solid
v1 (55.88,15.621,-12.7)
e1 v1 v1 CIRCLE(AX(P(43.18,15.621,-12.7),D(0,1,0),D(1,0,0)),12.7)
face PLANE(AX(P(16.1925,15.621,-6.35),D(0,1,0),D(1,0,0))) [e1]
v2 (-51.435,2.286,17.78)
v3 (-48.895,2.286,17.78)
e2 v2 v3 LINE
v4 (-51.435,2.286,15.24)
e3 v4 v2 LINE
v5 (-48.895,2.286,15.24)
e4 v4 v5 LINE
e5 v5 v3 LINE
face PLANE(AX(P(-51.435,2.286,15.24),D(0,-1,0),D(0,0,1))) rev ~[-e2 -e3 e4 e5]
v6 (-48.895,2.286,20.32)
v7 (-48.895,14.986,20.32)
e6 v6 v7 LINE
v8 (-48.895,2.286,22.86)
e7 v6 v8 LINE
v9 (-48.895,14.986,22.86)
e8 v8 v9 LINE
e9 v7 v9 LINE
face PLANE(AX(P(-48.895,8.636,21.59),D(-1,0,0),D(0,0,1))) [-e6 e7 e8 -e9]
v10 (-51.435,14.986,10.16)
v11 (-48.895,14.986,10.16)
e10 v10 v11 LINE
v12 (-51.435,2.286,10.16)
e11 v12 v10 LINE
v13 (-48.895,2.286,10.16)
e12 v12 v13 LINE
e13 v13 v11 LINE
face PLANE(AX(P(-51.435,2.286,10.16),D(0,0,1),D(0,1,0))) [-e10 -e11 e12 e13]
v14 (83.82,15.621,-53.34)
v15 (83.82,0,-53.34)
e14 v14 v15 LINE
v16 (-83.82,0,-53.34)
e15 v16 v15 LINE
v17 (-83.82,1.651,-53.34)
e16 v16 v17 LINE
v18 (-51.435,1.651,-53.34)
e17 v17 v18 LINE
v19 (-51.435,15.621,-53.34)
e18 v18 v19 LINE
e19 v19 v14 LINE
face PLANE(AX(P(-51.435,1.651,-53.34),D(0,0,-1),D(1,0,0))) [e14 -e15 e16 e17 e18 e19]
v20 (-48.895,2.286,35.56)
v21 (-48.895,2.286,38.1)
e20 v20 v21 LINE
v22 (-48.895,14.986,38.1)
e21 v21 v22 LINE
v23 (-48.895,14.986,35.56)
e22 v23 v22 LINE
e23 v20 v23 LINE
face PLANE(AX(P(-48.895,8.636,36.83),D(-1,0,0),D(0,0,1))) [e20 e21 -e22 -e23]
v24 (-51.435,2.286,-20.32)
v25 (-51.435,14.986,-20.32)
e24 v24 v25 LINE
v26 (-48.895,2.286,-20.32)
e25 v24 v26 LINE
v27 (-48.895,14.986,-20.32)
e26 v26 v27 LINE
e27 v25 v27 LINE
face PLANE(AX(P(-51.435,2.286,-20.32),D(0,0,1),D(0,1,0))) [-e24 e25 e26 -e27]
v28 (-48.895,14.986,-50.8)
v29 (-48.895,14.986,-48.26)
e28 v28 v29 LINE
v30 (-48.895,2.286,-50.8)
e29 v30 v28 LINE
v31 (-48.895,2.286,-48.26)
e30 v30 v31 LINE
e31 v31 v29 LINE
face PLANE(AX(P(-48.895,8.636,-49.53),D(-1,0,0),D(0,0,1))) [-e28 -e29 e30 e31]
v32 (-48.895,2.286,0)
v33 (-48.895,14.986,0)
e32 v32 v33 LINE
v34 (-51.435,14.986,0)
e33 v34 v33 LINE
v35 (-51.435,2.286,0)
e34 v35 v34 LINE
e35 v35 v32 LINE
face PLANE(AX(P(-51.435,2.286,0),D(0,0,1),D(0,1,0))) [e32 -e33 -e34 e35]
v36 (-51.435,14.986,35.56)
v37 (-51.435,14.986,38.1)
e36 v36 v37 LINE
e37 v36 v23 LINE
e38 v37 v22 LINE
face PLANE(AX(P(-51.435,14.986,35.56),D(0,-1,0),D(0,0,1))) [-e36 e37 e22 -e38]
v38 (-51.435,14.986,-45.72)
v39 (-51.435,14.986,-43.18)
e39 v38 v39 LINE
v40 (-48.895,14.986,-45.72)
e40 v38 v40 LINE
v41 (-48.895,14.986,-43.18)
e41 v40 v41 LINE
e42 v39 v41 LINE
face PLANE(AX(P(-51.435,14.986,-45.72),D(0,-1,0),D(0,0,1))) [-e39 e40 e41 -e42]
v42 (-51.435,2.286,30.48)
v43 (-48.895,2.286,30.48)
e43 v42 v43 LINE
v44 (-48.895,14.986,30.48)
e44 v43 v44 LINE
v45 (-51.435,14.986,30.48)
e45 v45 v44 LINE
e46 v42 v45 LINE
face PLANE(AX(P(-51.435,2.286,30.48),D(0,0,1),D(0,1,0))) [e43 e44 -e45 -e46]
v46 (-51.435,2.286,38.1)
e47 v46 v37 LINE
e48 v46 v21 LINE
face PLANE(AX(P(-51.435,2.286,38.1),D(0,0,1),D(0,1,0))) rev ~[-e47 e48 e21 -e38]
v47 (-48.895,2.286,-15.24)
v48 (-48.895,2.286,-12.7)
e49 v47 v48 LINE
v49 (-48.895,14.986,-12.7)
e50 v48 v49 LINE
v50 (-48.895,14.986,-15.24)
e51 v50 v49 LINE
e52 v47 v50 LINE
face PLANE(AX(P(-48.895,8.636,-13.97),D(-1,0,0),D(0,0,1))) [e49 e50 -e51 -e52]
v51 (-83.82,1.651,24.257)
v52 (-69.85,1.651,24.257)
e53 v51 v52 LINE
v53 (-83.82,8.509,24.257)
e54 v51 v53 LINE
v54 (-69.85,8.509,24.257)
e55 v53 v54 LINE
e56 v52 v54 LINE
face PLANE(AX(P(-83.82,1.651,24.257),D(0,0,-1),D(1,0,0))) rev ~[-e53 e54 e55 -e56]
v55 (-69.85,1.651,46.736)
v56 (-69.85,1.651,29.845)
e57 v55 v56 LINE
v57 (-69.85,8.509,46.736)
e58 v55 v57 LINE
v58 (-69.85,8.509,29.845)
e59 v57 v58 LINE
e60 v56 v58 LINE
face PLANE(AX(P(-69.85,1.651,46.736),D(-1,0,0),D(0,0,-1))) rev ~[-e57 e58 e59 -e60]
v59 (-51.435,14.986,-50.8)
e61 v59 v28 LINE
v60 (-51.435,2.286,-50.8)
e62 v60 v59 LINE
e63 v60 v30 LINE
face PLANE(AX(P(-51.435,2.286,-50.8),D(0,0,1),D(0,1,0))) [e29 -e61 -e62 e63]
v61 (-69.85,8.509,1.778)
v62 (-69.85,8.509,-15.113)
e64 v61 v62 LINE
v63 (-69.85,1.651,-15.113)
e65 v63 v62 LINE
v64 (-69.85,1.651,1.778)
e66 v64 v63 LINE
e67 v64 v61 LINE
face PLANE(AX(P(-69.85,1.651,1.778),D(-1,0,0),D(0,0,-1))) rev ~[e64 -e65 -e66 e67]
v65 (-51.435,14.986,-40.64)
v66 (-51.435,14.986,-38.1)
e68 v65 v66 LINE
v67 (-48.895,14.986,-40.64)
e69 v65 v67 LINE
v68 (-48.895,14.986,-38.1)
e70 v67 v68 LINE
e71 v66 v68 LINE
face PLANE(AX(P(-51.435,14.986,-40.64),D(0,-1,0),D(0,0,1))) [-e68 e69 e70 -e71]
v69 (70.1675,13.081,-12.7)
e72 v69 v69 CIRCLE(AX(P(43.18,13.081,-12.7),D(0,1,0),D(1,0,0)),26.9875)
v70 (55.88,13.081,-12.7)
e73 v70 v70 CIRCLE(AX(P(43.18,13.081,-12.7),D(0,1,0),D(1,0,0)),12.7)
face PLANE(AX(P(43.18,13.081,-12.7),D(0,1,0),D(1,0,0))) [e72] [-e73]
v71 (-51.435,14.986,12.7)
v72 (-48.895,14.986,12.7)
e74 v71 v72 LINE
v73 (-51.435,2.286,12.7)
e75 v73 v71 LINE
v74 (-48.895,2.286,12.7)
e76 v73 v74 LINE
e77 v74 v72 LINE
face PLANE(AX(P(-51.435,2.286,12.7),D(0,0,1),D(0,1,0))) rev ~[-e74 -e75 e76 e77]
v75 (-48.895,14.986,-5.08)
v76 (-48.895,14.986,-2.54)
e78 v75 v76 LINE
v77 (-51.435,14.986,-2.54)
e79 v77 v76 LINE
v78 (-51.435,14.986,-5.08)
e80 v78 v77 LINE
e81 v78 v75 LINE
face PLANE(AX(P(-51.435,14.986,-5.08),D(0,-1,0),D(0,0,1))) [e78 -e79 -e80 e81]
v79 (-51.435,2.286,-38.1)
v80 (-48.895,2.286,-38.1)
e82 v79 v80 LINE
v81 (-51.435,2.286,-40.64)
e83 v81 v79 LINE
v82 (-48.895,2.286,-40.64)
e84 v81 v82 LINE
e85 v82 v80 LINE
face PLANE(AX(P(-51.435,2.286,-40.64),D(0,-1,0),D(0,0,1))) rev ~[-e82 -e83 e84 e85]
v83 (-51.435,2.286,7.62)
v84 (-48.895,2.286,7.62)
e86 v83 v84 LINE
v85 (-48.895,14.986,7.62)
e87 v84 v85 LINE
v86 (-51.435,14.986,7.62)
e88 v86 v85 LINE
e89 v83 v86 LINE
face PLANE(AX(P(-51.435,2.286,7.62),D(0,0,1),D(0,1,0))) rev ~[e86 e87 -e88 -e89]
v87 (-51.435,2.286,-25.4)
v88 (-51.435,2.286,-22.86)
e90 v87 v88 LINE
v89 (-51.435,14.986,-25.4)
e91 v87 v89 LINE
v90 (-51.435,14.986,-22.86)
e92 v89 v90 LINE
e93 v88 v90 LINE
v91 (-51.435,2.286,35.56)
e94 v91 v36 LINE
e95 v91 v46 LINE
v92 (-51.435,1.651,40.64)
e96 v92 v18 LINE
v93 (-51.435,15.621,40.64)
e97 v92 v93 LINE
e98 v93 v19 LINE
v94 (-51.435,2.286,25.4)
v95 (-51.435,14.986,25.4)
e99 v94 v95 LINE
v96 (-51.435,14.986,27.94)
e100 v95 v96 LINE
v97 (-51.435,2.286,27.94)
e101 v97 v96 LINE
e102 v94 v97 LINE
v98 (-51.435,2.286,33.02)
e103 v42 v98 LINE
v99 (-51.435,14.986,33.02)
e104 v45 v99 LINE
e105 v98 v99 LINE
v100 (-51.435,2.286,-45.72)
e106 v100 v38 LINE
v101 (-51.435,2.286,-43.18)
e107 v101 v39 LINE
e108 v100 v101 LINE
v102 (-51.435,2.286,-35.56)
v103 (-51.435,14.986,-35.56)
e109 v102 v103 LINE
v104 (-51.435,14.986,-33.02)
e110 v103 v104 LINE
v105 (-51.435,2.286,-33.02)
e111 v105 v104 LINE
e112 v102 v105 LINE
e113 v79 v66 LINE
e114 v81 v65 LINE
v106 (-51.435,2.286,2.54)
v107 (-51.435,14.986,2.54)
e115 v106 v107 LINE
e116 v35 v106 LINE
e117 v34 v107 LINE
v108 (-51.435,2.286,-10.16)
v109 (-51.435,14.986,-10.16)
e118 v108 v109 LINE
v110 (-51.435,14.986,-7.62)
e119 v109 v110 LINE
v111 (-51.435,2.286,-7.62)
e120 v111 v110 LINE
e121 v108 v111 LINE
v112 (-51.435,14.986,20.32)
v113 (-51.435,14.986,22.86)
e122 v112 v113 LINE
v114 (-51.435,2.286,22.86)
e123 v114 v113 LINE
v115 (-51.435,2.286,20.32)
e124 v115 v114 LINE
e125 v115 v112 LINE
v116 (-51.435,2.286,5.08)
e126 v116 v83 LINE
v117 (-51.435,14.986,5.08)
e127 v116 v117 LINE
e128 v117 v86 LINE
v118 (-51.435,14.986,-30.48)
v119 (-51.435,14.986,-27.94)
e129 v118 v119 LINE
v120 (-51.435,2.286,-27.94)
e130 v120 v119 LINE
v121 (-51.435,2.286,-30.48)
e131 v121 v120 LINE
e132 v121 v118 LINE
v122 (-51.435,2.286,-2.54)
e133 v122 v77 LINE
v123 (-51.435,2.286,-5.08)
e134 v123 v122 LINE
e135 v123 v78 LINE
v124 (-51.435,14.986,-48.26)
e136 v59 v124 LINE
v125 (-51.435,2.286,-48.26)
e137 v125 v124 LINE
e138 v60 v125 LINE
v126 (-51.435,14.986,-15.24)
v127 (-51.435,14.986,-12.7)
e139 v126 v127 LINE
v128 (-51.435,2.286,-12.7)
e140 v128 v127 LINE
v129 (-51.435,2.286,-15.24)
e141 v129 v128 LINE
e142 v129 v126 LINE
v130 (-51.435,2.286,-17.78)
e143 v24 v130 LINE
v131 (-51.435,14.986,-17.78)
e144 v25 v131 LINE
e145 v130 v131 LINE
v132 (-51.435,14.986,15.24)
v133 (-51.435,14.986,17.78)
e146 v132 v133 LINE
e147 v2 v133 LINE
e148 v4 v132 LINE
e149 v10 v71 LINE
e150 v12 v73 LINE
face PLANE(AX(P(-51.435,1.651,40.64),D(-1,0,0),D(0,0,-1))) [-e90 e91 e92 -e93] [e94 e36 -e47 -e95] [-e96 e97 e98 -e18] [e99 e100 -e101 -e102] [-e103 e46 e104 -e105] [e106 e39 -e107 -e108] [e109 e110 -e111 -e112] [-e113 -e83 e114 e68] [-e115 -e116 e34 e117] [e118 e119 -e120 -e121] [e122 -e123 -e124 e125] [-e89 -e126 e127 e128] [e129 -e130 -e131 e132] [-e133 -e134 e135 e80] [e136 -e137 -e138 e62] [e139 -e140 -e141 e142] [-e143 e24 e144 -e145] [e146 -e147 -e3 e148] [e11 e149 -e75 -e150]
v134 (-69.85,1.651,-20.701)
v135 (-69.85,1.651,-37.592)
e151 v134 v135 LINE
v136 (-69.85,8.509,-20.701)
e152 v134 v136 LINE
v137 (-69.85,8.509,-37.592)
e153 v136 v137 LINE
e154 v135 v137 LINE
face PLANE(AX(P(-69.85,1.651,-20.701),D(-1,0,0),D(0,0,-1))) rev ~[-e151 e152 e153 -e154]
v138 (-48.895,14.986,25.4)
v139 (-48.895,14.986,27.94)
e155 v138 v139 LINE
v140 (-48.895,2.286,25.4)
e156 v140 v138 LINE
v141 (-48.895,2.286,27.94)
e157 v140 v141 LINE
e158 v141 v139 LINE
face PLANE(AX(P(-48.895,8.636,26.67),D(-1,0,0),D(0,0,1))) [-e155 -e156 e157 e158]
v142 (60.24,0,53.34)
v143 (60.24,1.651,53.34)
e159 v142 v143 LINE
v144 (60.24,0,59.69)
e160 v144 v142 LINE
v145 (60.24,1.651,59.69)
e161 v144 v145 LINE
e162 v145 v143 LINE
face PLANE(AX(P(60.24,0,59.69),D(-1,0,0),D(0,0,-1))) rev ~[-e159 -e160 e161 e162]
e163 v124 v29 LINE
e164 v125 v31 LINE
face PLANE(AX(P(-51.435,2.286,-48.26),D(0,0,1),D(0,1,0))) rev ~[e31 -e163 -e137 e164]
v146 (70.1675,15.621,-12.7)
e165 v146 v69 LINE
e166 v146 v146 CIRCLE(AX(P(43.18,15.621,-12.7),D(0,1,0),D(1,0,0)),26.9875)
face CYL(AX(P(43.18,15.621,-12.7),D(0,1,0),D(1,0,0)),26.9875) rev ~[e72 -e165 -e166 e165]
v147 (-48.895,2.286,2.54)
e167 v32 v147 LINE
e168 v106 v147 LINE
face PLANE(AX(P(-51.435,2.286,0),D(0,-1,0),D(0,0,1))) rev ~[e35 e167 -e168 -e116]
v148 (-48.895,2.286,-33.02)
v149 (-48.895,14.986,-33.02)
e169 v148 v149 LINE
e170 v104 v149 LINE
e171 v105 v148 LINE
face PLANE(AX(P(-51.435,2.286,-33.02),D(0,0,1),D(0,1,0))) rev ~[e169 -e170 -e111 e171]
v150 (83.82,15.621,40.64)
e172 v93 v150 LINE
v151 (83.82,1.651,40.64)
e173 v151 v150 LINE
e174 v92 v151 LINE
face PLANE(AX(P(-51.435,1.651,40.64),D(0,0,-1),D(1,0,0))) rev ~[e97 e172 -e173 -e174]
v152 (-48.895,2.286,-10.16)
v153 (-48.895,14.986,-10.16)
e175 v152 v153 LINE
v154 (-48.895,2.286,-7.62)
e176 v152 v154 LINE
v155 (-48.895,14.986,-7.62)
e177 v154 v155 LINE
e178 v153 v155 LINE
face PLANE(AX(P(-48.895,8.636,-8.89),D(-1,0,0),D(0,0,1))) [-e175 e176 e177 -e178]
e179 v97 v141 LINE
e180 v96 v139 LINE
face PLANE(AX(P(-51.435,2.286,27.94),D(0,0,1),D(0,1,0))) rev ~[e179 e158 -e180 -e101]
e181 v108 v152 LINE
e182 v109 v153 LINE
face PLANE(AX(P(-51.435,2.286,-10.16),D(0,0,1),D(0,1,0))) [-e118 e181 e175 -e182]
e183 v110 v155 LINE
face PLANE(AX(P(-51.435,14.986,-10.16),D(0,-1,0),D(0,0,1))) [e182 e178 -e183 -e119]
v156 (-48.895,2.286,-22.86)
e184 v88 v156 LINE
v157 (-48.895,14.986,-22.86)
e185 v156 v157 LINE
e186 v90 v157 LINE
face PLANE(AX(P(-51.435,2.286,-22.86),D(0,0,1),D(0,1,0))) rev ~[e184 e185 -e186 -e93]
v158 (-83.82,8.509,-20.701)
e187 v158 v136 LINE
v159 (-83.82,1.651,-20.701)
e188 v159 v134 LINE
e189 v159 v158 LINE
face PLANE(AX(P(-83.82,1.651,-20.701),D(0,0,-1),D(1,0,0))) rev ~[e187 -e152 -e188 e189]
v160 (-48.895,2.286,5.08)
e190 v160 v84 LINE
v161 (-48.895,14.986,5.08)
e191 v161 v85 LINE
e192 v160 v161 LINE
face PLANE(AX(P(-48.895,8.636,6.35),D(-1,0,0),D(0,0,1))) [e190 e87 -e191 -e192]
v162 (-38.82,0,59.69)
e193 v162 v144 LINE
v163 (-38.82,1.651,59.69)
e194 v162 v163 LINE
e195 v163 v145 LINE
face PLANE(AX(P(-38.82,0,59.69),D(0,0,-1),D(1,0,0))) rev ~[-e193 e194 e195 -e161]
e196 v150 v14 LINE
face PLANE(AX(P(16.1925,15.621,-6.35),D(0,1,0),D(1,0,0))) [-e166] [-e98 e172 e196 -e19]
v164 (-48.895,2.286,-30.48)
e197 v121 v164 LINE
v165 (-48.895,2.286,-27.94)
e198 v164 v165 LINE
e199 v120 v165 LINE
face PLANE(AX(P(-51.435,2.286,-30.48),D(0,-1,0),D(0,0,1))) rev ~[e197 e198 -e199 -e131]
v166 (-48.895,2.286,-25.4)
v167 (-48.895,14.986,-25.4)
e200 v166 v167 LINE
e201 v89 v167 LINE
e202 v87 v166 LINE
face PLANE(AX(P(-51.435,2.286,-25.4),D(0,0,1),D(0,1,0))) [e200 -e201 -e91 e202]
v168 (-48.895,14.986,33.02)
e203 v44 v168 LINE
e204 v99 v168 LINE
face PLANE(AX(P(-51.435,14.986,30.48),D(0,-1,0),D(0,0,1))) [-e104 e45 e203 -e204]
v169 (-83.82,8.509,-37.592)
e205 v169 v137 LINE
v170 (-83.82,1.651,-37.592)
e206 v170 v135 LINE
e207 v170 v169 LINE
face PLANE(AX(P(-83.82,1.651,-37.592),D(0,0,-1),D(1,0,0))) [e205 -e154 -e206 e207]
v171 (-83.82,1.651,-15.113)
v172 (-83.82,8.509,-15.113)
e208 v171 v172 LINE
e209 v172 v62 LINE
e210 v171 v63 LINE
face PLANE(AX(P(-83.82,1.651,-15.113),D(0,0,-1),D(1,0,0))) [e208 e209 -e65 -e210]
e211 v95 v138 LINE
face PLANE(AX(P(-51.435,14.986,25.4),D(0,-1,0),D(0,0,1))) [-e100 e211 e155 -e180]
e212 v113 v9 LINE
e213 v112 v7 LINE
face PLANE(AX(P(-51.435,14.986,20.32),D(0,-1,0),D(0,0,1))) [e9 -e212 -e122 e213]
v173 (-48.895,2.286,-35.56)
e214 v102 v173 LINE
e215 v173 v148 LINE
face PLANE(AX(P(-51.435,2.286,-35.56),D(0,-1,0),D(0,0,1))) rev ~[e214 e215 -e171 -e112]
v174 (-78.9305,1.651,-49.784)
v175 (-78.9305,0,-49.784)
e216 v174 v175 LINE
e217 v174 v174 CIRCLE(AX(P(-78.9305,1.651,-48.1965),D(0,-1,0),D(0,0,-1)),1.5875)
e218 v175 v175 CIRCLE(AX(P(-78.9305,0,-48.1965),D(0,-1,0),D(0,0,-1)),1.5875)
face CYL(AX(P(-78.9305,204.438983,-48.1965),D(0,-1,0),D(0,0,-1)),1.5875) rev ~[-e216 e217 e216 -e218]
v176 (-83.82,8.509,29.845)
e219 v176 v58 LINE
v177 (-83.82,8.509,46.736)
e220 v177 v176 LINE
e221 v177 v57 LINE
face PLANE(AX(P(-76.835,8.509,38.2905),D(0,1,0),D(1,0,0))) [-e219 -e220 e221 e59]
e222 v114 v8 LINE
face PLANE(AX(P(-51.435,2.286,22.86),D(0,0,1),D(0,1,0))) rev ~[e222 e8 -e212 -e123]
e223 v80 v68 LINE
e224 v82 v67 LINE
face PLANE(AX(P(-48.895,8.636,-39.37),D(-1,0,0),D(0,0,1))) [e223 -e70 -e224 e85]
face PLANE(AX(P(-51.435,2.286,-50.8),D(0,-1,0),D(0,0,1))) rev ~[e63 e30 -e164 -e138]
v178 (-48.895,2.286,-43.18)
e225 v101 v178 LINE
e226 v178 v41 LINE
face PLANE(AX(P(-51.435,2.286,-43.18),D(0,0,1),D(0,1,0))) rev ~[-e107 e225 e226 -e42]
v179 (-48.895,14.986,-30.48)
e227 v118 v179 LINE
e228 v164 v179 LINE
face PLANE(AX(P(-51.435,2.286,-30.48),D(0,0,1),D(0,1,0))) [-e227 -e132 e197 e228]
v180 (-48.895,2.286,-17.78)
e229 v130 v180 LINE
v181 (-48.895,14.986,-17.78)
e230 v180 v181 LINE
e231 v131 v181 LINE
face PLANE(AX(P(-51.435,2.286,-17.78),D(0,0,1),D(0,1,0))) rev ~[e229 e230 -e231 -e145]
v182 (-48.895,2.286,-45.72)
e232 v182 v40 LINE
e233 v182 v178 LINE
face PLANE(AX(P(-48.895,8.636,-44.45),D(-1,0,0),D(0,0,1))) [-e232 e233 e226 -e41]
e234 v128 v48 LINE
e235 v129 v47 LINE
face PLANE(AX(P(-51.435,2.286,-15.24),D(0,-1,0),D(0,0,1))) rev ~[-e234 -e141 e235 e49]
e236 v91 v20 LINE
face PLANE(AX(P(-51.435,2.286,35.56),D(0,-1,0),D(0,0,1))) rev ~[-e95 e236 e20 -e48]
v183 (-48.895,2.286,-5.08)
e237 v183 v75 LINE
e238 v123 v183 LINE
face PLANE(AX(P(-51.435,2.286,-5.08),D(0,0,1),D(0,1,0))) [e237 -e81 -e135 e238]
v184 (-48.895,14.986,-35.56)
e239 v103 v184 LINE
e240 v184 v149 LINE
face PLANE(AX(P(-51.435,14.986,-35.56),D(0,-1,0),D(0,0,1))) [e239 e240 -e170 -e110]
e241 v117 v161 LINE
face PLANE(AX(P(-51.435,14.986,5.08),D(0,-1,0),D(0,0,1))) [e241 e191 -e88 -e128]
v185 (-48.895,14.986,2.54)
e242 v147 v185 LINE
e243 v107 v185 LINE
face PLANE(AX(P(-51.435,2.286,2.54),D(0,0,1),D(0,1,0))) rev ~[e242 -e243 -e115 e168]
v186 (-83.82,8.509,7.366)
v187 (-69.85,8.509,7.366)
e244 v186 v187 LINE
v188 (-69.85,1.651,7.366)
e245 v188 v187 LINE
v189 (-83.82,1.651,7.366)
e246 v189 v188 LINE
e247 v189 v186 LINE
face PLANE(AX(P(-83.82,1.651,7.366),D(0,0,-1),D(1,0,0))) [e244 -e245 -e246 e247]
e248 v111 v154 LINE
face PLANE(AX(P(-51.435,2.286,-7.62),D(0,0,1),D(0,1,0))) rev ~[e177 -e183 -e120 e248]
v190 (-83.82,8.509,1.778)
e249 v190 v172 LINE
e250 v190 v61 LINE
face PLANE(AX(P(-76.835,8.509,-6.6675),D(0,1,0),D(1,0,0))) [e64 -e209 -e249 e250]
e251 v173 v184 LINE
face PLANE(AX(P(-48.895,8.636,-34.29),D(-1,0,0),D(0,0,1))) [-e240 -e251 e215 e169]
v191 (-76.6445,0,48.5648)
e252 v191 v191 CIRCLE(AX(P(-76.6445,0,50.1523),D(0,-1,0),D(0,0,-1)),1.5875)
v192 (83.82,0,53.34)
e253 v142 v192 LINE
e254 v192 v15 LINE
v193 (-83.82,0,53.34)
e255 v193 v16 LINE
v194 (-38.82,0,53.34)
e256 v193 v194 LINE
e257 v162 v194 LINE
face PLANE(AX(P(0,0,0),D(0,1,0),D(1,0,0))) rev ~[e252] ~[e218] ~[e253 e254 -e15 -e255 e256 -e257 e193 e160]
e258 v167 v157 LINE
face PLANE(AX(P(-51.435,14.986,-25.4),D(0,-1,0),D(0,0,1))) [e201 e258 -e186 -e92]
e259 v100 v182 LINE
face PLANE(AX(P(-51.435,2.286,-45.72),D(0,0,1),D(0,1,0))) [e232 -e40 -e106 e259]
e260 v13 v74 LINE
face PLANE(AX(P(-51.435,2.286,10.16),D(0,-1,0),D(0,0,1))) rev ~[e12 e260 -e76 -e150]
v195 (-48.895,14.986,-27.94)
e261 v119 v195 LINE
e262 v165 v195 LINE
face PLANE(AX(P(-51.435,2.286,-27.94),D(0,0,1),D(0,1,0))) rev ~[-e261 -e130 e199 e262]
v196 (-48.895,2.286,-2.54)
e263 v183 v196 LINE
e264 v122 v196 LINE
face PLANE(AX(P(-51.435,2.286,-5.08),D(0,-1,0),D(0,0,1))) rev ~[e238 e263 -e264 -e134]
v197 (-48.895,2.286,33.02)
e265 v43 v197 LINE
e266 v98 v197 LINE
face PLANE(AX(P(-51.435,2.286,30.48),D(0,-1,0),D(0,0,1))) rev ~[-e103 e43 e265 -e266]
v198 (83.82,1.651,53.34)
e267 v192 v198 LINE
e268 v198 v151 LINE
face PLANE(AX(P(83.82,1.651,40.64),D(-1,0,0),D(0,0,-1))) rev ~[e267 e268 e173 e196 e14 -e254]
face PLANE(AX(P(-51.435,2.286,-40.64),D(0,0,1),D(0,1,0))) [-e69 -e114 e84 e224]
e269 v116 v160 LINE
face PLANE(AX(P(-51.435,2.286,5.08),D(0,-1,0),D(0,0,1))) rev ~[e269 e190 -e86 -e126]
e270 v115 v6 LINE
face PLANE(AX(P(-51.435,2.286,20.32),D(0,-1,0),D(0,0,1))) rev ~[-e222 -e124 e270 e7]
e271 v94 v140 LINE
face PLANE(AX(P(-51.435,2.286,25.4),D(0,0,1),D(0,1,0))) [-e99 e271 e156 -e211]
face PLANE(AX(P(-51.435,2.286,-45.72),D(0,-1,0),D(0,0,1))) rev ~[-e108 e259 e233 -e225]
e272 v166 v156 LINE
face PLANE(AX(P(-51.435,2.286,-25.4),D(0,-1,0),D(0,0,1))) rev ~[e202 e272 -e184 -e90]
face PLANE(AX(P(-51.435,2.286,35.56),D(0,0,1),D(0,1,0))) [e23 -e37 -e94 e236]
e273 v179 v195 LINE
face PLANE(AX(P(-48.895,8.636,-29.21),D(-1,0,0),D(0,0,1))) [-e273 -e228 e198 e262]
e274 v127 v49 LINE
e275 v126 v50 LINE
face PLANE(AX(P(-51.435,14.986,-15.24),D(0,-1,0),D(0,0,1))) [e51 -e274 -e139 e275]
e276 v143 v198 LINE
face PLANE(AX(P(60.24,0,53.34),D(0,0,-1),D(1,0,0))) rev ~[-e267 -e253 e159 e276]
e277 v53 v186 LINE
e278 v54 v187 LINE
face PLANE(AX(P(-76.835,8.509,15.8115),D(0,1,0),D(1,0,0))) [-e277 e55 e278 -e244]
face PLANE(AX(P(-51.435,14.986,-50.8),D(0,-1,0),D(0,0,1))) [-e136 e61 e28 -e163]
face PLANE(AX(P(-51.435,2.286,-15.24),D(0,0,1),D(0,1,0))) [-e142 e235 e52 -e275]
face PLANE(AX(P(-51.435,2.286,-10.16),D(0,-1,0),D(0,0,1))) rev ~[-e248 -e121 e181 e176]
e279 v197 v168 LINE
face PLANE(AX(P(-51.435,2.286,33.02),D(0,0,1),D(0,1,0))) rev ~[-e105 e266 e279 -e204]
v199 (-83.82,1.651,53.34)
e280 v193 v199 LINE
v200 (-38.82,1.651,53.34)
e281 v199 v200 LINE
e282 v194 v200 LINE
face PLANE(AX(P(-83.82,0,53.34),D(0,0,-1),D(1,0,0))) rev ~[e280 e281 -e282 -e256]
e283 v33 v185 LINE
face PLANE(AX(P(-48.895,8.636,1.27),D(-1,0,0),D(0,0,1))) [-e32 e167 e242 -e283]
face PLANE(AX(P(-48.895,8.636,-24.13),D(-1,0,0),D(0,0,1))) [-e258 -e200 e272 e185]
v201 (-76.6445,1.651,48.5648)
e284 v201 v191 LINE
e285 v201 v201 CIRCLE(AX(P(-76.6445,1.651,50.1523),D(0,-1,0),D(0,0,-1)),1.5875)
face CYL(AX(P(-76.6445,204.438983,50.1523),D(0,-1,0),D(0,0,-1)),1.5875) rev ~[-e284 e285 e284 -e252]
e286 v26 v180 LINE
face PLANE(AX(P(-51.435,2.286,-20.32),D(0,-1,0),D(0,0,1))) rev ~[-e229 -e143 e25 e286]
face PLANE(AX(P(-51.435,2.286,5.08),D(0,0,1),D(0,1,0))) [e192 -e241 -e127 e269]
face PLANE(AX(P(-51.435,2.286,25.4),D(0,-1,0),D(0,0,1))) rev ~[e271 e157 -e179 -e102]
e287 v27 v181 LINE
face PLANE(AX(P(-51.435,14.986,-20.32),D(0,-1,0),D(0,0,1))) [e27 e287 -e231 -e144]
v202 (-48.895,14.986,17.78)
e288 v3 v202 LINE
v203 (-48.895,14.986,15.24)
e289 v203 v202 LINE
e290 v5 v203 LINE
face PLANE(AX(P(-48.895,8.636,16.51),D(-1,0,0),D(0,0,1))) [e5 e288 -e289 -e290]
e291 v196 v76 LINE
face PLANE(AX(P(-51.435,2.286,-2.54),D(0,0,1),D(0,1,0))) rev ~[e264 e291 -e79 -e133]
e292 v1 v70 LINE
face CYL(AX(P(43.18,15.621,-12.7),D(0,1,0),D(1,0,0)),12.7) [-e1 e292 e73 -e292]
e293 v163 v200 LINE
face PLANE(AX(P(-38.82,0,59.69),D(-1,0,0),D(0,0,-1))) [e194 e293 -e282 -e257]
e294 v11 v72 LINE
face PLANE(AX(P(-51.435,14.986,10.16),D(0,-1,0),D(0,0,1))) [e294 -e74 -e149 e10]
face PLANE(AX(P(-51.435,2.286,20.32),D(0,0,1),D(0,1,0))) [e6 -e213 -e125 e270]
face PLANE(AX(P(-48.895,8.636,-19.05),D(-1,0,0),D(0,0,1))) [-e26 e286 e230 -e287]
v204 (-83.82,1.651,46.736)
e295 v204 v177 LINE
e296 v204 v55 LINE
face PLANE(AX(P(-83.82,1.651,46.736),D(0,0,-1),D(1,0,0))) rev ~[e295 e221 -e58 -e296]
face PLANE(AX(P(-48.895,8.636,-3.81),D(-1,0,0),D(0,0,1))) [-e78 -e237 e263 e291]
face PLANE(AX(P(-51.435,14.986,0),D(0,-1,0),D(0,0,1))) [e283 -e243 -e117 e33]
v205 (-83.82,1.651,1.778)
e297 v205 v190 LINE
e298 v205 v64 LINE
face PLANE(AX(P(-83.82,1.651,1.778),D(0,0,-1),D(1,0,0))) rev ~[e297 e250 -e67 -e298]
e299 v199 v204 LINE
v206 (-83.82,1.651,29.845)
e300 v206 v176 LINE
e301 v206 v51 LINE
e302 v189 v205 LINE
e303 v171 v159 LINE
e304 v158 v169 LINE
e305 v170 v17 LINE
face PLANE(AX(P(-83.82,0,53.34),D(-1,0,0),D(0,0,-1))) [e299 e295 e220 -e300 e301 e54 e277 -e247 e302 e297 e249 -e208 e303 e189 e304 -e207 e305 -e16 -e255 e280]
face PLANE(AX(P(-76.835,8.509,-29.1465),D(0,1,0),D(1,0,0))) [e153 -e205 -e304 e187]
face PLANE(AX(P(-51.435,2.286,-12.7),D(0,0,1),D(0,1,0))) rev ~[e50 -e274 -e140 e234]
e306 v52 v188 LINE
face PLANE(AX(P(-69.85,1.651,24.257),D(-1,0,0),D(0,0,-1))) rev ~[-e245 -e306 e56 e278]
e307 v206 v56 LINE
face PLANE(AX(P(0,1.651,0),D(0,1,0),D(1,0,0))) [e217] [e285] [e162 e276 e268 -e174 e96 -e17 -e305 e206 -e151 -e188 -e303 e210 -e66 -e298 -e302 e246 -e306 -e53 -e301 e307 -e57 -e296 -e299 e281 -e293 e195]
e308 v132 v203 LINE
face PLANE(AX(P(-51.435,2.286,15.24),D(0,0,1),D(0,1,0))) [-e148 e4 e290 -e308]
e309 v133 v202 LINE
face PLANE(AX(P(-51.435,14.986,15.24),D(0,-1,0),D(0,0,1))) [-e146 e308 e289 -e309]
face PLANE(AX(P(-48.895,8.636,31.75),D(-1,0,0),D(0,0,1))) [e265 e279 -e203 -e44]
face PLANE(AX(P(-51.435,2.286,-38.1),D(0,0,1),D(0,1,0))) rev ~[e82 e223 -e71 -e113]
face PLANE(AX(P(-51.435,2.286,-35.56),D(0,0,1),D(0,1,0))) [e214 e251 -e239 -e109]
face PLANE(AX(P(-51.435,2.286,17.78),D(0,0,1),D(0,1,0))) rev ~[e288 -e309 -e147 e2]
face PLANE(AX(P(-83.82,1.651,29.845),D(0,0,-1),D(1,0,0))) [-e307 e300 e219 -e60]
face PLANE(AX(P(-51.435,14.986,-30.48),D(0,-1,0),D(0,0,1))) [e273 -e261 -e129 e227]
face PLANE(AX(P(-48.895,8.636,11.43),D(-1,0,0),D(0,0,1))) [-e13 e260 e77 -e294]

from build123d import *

# Parameters (mm, degrees)
SKETCH1_W             = 167.64
SKETCH1_H             = 106.68
SKETCH1_W_2           = 99.06
SKETCH1_H_2           = 6.35
BOSS_EXTRUDE1_DEPTH   = 1.651
SKETCH2_W             = 135.255
SKETCH2_H             = 93.98
BOSS_EXTRUDE2_DEPTH   = 13.97
F_4_CLEARANCE_HOLE1_D = 3.175
SKETCH6_W             = 13.97
SKETCH6_H             = 16.891
BOSS_EXTRUDE3_DEPTH   = 6.858
SKETCH7_W             = 2.54
SKETCH7_H             = 12.7
CUT_EXTRUDE5_DEPTH    = 2.54
LPATTERN1_COUNT       = 18
LPATTERN1_PITCH       = 5.08
SKETCH8_R             = 26.9875
SKETCH8_R_2           = 12.7
CUT_EXTRUDE6_DEPTH    = 2.54


with BuildPart() as part:
    # Sketch1 → Boss-Extrude1 (new body)
    with BuildSketch(Plane(origin=(0, 0, 0), x_dir=(1, 0, 0), z_dir=(0, 1, 0))):
        Rectangle(SKETCH1_W, SKETCH1_H)
        with Locations((10.71, -56.515)):
            Rectangle(SKETCH1_W_2, SKETCH1_H_2)
    extrude(amount=BOSS_EXTRUDE1_DEPTH)

    # Sketch2 → Boss-Extrude2 (add)
    with BuildSketch(Plane(origin=(0, 1.651, 0), x_dir=(1, 0, 0), z_dir=(0, 1, 0))):
        with Locations((16.1925, 6.35)):
            Rectangle(SKETCH2_W, SKETCH2_H)
    extrude(amount=BOSS_EXTRUDE2_DEPTH)

    # #4 Clearance Hole1 (through all)
    with Locations(Plane(origin=(-78.9305, 1.651, -48.1965), x_dir=(0, 0, 1), z_dir=(0, 1, 0))):
        with Locations((0, 0), (98.3488, 2.286)):
            Hole(F_4_CLEARANCE_HOLE1_D / 2)

    # Sketch6 → Boss-Extrude3 (add)
    with BuildSketch(Plane(origin=(0, 1.651, 0), x_dir=(1, 0, 0), z_dir=(0, 1, 0))):
        with Locations((-76.835, 29.1465)):
            Rectangle(SKETCH6_W, SKETCH6_H)
        with Locations((-76.835, 6.6675)):
            Rectangle(SKETCH6_W, SKETCH6_H)
        with Locations((-76.835, -15.8115)):
            Rectangle(SKETCH6_W, SKETCH6_H)
        with Locations((-76.835, -38.2905)):
            Rectangle(SKETCH6_W, SKETCH6_H)
    extrude(amount=BOSS_EXTRUDE3_DEPTH)

    # Sketch7 → Cut-Extrude5 (cut)
    with BuildSketch(Plane.ZY.offset(51.435)):
        with Locations((36.83, 8.636)):
            Rectangle(SKETCH7_W, SKETCH7_H)
    cut_extrude5 = extrude(amount=-CUT_EXTRUDE5_DEPTH, mode=Mode.SUBTRACT)

    # LPattern1: Cut-Extrude5 ×18
    with Locations(*[(0, 0, -i * LPATTERN1_PITCH) for i in range(1, LPATTERN1_COUNT)]):
        add(cut_extrude5, mode=Mode.SUBTRACT)

    # Sketch8 → Cut-Extrude6 (cut)
    with BuildSketch(Plane(origin=(0, 15.621, 0), x_dir=(1, 0, 0), z_dir=(0, 1, 0))):
        with Locations((43.18, 12.7)):
            Circle(SKETCH8_R)
        with Locations((43.18, 12.7)):
            Circle(SKETCH8_R_2, mode=Mode.SUBTRACT)
    extrude(amount=-CUT_EXTRUDE6_DEPTH, mode=Mode.SUBTRACT)


solid = part.part
